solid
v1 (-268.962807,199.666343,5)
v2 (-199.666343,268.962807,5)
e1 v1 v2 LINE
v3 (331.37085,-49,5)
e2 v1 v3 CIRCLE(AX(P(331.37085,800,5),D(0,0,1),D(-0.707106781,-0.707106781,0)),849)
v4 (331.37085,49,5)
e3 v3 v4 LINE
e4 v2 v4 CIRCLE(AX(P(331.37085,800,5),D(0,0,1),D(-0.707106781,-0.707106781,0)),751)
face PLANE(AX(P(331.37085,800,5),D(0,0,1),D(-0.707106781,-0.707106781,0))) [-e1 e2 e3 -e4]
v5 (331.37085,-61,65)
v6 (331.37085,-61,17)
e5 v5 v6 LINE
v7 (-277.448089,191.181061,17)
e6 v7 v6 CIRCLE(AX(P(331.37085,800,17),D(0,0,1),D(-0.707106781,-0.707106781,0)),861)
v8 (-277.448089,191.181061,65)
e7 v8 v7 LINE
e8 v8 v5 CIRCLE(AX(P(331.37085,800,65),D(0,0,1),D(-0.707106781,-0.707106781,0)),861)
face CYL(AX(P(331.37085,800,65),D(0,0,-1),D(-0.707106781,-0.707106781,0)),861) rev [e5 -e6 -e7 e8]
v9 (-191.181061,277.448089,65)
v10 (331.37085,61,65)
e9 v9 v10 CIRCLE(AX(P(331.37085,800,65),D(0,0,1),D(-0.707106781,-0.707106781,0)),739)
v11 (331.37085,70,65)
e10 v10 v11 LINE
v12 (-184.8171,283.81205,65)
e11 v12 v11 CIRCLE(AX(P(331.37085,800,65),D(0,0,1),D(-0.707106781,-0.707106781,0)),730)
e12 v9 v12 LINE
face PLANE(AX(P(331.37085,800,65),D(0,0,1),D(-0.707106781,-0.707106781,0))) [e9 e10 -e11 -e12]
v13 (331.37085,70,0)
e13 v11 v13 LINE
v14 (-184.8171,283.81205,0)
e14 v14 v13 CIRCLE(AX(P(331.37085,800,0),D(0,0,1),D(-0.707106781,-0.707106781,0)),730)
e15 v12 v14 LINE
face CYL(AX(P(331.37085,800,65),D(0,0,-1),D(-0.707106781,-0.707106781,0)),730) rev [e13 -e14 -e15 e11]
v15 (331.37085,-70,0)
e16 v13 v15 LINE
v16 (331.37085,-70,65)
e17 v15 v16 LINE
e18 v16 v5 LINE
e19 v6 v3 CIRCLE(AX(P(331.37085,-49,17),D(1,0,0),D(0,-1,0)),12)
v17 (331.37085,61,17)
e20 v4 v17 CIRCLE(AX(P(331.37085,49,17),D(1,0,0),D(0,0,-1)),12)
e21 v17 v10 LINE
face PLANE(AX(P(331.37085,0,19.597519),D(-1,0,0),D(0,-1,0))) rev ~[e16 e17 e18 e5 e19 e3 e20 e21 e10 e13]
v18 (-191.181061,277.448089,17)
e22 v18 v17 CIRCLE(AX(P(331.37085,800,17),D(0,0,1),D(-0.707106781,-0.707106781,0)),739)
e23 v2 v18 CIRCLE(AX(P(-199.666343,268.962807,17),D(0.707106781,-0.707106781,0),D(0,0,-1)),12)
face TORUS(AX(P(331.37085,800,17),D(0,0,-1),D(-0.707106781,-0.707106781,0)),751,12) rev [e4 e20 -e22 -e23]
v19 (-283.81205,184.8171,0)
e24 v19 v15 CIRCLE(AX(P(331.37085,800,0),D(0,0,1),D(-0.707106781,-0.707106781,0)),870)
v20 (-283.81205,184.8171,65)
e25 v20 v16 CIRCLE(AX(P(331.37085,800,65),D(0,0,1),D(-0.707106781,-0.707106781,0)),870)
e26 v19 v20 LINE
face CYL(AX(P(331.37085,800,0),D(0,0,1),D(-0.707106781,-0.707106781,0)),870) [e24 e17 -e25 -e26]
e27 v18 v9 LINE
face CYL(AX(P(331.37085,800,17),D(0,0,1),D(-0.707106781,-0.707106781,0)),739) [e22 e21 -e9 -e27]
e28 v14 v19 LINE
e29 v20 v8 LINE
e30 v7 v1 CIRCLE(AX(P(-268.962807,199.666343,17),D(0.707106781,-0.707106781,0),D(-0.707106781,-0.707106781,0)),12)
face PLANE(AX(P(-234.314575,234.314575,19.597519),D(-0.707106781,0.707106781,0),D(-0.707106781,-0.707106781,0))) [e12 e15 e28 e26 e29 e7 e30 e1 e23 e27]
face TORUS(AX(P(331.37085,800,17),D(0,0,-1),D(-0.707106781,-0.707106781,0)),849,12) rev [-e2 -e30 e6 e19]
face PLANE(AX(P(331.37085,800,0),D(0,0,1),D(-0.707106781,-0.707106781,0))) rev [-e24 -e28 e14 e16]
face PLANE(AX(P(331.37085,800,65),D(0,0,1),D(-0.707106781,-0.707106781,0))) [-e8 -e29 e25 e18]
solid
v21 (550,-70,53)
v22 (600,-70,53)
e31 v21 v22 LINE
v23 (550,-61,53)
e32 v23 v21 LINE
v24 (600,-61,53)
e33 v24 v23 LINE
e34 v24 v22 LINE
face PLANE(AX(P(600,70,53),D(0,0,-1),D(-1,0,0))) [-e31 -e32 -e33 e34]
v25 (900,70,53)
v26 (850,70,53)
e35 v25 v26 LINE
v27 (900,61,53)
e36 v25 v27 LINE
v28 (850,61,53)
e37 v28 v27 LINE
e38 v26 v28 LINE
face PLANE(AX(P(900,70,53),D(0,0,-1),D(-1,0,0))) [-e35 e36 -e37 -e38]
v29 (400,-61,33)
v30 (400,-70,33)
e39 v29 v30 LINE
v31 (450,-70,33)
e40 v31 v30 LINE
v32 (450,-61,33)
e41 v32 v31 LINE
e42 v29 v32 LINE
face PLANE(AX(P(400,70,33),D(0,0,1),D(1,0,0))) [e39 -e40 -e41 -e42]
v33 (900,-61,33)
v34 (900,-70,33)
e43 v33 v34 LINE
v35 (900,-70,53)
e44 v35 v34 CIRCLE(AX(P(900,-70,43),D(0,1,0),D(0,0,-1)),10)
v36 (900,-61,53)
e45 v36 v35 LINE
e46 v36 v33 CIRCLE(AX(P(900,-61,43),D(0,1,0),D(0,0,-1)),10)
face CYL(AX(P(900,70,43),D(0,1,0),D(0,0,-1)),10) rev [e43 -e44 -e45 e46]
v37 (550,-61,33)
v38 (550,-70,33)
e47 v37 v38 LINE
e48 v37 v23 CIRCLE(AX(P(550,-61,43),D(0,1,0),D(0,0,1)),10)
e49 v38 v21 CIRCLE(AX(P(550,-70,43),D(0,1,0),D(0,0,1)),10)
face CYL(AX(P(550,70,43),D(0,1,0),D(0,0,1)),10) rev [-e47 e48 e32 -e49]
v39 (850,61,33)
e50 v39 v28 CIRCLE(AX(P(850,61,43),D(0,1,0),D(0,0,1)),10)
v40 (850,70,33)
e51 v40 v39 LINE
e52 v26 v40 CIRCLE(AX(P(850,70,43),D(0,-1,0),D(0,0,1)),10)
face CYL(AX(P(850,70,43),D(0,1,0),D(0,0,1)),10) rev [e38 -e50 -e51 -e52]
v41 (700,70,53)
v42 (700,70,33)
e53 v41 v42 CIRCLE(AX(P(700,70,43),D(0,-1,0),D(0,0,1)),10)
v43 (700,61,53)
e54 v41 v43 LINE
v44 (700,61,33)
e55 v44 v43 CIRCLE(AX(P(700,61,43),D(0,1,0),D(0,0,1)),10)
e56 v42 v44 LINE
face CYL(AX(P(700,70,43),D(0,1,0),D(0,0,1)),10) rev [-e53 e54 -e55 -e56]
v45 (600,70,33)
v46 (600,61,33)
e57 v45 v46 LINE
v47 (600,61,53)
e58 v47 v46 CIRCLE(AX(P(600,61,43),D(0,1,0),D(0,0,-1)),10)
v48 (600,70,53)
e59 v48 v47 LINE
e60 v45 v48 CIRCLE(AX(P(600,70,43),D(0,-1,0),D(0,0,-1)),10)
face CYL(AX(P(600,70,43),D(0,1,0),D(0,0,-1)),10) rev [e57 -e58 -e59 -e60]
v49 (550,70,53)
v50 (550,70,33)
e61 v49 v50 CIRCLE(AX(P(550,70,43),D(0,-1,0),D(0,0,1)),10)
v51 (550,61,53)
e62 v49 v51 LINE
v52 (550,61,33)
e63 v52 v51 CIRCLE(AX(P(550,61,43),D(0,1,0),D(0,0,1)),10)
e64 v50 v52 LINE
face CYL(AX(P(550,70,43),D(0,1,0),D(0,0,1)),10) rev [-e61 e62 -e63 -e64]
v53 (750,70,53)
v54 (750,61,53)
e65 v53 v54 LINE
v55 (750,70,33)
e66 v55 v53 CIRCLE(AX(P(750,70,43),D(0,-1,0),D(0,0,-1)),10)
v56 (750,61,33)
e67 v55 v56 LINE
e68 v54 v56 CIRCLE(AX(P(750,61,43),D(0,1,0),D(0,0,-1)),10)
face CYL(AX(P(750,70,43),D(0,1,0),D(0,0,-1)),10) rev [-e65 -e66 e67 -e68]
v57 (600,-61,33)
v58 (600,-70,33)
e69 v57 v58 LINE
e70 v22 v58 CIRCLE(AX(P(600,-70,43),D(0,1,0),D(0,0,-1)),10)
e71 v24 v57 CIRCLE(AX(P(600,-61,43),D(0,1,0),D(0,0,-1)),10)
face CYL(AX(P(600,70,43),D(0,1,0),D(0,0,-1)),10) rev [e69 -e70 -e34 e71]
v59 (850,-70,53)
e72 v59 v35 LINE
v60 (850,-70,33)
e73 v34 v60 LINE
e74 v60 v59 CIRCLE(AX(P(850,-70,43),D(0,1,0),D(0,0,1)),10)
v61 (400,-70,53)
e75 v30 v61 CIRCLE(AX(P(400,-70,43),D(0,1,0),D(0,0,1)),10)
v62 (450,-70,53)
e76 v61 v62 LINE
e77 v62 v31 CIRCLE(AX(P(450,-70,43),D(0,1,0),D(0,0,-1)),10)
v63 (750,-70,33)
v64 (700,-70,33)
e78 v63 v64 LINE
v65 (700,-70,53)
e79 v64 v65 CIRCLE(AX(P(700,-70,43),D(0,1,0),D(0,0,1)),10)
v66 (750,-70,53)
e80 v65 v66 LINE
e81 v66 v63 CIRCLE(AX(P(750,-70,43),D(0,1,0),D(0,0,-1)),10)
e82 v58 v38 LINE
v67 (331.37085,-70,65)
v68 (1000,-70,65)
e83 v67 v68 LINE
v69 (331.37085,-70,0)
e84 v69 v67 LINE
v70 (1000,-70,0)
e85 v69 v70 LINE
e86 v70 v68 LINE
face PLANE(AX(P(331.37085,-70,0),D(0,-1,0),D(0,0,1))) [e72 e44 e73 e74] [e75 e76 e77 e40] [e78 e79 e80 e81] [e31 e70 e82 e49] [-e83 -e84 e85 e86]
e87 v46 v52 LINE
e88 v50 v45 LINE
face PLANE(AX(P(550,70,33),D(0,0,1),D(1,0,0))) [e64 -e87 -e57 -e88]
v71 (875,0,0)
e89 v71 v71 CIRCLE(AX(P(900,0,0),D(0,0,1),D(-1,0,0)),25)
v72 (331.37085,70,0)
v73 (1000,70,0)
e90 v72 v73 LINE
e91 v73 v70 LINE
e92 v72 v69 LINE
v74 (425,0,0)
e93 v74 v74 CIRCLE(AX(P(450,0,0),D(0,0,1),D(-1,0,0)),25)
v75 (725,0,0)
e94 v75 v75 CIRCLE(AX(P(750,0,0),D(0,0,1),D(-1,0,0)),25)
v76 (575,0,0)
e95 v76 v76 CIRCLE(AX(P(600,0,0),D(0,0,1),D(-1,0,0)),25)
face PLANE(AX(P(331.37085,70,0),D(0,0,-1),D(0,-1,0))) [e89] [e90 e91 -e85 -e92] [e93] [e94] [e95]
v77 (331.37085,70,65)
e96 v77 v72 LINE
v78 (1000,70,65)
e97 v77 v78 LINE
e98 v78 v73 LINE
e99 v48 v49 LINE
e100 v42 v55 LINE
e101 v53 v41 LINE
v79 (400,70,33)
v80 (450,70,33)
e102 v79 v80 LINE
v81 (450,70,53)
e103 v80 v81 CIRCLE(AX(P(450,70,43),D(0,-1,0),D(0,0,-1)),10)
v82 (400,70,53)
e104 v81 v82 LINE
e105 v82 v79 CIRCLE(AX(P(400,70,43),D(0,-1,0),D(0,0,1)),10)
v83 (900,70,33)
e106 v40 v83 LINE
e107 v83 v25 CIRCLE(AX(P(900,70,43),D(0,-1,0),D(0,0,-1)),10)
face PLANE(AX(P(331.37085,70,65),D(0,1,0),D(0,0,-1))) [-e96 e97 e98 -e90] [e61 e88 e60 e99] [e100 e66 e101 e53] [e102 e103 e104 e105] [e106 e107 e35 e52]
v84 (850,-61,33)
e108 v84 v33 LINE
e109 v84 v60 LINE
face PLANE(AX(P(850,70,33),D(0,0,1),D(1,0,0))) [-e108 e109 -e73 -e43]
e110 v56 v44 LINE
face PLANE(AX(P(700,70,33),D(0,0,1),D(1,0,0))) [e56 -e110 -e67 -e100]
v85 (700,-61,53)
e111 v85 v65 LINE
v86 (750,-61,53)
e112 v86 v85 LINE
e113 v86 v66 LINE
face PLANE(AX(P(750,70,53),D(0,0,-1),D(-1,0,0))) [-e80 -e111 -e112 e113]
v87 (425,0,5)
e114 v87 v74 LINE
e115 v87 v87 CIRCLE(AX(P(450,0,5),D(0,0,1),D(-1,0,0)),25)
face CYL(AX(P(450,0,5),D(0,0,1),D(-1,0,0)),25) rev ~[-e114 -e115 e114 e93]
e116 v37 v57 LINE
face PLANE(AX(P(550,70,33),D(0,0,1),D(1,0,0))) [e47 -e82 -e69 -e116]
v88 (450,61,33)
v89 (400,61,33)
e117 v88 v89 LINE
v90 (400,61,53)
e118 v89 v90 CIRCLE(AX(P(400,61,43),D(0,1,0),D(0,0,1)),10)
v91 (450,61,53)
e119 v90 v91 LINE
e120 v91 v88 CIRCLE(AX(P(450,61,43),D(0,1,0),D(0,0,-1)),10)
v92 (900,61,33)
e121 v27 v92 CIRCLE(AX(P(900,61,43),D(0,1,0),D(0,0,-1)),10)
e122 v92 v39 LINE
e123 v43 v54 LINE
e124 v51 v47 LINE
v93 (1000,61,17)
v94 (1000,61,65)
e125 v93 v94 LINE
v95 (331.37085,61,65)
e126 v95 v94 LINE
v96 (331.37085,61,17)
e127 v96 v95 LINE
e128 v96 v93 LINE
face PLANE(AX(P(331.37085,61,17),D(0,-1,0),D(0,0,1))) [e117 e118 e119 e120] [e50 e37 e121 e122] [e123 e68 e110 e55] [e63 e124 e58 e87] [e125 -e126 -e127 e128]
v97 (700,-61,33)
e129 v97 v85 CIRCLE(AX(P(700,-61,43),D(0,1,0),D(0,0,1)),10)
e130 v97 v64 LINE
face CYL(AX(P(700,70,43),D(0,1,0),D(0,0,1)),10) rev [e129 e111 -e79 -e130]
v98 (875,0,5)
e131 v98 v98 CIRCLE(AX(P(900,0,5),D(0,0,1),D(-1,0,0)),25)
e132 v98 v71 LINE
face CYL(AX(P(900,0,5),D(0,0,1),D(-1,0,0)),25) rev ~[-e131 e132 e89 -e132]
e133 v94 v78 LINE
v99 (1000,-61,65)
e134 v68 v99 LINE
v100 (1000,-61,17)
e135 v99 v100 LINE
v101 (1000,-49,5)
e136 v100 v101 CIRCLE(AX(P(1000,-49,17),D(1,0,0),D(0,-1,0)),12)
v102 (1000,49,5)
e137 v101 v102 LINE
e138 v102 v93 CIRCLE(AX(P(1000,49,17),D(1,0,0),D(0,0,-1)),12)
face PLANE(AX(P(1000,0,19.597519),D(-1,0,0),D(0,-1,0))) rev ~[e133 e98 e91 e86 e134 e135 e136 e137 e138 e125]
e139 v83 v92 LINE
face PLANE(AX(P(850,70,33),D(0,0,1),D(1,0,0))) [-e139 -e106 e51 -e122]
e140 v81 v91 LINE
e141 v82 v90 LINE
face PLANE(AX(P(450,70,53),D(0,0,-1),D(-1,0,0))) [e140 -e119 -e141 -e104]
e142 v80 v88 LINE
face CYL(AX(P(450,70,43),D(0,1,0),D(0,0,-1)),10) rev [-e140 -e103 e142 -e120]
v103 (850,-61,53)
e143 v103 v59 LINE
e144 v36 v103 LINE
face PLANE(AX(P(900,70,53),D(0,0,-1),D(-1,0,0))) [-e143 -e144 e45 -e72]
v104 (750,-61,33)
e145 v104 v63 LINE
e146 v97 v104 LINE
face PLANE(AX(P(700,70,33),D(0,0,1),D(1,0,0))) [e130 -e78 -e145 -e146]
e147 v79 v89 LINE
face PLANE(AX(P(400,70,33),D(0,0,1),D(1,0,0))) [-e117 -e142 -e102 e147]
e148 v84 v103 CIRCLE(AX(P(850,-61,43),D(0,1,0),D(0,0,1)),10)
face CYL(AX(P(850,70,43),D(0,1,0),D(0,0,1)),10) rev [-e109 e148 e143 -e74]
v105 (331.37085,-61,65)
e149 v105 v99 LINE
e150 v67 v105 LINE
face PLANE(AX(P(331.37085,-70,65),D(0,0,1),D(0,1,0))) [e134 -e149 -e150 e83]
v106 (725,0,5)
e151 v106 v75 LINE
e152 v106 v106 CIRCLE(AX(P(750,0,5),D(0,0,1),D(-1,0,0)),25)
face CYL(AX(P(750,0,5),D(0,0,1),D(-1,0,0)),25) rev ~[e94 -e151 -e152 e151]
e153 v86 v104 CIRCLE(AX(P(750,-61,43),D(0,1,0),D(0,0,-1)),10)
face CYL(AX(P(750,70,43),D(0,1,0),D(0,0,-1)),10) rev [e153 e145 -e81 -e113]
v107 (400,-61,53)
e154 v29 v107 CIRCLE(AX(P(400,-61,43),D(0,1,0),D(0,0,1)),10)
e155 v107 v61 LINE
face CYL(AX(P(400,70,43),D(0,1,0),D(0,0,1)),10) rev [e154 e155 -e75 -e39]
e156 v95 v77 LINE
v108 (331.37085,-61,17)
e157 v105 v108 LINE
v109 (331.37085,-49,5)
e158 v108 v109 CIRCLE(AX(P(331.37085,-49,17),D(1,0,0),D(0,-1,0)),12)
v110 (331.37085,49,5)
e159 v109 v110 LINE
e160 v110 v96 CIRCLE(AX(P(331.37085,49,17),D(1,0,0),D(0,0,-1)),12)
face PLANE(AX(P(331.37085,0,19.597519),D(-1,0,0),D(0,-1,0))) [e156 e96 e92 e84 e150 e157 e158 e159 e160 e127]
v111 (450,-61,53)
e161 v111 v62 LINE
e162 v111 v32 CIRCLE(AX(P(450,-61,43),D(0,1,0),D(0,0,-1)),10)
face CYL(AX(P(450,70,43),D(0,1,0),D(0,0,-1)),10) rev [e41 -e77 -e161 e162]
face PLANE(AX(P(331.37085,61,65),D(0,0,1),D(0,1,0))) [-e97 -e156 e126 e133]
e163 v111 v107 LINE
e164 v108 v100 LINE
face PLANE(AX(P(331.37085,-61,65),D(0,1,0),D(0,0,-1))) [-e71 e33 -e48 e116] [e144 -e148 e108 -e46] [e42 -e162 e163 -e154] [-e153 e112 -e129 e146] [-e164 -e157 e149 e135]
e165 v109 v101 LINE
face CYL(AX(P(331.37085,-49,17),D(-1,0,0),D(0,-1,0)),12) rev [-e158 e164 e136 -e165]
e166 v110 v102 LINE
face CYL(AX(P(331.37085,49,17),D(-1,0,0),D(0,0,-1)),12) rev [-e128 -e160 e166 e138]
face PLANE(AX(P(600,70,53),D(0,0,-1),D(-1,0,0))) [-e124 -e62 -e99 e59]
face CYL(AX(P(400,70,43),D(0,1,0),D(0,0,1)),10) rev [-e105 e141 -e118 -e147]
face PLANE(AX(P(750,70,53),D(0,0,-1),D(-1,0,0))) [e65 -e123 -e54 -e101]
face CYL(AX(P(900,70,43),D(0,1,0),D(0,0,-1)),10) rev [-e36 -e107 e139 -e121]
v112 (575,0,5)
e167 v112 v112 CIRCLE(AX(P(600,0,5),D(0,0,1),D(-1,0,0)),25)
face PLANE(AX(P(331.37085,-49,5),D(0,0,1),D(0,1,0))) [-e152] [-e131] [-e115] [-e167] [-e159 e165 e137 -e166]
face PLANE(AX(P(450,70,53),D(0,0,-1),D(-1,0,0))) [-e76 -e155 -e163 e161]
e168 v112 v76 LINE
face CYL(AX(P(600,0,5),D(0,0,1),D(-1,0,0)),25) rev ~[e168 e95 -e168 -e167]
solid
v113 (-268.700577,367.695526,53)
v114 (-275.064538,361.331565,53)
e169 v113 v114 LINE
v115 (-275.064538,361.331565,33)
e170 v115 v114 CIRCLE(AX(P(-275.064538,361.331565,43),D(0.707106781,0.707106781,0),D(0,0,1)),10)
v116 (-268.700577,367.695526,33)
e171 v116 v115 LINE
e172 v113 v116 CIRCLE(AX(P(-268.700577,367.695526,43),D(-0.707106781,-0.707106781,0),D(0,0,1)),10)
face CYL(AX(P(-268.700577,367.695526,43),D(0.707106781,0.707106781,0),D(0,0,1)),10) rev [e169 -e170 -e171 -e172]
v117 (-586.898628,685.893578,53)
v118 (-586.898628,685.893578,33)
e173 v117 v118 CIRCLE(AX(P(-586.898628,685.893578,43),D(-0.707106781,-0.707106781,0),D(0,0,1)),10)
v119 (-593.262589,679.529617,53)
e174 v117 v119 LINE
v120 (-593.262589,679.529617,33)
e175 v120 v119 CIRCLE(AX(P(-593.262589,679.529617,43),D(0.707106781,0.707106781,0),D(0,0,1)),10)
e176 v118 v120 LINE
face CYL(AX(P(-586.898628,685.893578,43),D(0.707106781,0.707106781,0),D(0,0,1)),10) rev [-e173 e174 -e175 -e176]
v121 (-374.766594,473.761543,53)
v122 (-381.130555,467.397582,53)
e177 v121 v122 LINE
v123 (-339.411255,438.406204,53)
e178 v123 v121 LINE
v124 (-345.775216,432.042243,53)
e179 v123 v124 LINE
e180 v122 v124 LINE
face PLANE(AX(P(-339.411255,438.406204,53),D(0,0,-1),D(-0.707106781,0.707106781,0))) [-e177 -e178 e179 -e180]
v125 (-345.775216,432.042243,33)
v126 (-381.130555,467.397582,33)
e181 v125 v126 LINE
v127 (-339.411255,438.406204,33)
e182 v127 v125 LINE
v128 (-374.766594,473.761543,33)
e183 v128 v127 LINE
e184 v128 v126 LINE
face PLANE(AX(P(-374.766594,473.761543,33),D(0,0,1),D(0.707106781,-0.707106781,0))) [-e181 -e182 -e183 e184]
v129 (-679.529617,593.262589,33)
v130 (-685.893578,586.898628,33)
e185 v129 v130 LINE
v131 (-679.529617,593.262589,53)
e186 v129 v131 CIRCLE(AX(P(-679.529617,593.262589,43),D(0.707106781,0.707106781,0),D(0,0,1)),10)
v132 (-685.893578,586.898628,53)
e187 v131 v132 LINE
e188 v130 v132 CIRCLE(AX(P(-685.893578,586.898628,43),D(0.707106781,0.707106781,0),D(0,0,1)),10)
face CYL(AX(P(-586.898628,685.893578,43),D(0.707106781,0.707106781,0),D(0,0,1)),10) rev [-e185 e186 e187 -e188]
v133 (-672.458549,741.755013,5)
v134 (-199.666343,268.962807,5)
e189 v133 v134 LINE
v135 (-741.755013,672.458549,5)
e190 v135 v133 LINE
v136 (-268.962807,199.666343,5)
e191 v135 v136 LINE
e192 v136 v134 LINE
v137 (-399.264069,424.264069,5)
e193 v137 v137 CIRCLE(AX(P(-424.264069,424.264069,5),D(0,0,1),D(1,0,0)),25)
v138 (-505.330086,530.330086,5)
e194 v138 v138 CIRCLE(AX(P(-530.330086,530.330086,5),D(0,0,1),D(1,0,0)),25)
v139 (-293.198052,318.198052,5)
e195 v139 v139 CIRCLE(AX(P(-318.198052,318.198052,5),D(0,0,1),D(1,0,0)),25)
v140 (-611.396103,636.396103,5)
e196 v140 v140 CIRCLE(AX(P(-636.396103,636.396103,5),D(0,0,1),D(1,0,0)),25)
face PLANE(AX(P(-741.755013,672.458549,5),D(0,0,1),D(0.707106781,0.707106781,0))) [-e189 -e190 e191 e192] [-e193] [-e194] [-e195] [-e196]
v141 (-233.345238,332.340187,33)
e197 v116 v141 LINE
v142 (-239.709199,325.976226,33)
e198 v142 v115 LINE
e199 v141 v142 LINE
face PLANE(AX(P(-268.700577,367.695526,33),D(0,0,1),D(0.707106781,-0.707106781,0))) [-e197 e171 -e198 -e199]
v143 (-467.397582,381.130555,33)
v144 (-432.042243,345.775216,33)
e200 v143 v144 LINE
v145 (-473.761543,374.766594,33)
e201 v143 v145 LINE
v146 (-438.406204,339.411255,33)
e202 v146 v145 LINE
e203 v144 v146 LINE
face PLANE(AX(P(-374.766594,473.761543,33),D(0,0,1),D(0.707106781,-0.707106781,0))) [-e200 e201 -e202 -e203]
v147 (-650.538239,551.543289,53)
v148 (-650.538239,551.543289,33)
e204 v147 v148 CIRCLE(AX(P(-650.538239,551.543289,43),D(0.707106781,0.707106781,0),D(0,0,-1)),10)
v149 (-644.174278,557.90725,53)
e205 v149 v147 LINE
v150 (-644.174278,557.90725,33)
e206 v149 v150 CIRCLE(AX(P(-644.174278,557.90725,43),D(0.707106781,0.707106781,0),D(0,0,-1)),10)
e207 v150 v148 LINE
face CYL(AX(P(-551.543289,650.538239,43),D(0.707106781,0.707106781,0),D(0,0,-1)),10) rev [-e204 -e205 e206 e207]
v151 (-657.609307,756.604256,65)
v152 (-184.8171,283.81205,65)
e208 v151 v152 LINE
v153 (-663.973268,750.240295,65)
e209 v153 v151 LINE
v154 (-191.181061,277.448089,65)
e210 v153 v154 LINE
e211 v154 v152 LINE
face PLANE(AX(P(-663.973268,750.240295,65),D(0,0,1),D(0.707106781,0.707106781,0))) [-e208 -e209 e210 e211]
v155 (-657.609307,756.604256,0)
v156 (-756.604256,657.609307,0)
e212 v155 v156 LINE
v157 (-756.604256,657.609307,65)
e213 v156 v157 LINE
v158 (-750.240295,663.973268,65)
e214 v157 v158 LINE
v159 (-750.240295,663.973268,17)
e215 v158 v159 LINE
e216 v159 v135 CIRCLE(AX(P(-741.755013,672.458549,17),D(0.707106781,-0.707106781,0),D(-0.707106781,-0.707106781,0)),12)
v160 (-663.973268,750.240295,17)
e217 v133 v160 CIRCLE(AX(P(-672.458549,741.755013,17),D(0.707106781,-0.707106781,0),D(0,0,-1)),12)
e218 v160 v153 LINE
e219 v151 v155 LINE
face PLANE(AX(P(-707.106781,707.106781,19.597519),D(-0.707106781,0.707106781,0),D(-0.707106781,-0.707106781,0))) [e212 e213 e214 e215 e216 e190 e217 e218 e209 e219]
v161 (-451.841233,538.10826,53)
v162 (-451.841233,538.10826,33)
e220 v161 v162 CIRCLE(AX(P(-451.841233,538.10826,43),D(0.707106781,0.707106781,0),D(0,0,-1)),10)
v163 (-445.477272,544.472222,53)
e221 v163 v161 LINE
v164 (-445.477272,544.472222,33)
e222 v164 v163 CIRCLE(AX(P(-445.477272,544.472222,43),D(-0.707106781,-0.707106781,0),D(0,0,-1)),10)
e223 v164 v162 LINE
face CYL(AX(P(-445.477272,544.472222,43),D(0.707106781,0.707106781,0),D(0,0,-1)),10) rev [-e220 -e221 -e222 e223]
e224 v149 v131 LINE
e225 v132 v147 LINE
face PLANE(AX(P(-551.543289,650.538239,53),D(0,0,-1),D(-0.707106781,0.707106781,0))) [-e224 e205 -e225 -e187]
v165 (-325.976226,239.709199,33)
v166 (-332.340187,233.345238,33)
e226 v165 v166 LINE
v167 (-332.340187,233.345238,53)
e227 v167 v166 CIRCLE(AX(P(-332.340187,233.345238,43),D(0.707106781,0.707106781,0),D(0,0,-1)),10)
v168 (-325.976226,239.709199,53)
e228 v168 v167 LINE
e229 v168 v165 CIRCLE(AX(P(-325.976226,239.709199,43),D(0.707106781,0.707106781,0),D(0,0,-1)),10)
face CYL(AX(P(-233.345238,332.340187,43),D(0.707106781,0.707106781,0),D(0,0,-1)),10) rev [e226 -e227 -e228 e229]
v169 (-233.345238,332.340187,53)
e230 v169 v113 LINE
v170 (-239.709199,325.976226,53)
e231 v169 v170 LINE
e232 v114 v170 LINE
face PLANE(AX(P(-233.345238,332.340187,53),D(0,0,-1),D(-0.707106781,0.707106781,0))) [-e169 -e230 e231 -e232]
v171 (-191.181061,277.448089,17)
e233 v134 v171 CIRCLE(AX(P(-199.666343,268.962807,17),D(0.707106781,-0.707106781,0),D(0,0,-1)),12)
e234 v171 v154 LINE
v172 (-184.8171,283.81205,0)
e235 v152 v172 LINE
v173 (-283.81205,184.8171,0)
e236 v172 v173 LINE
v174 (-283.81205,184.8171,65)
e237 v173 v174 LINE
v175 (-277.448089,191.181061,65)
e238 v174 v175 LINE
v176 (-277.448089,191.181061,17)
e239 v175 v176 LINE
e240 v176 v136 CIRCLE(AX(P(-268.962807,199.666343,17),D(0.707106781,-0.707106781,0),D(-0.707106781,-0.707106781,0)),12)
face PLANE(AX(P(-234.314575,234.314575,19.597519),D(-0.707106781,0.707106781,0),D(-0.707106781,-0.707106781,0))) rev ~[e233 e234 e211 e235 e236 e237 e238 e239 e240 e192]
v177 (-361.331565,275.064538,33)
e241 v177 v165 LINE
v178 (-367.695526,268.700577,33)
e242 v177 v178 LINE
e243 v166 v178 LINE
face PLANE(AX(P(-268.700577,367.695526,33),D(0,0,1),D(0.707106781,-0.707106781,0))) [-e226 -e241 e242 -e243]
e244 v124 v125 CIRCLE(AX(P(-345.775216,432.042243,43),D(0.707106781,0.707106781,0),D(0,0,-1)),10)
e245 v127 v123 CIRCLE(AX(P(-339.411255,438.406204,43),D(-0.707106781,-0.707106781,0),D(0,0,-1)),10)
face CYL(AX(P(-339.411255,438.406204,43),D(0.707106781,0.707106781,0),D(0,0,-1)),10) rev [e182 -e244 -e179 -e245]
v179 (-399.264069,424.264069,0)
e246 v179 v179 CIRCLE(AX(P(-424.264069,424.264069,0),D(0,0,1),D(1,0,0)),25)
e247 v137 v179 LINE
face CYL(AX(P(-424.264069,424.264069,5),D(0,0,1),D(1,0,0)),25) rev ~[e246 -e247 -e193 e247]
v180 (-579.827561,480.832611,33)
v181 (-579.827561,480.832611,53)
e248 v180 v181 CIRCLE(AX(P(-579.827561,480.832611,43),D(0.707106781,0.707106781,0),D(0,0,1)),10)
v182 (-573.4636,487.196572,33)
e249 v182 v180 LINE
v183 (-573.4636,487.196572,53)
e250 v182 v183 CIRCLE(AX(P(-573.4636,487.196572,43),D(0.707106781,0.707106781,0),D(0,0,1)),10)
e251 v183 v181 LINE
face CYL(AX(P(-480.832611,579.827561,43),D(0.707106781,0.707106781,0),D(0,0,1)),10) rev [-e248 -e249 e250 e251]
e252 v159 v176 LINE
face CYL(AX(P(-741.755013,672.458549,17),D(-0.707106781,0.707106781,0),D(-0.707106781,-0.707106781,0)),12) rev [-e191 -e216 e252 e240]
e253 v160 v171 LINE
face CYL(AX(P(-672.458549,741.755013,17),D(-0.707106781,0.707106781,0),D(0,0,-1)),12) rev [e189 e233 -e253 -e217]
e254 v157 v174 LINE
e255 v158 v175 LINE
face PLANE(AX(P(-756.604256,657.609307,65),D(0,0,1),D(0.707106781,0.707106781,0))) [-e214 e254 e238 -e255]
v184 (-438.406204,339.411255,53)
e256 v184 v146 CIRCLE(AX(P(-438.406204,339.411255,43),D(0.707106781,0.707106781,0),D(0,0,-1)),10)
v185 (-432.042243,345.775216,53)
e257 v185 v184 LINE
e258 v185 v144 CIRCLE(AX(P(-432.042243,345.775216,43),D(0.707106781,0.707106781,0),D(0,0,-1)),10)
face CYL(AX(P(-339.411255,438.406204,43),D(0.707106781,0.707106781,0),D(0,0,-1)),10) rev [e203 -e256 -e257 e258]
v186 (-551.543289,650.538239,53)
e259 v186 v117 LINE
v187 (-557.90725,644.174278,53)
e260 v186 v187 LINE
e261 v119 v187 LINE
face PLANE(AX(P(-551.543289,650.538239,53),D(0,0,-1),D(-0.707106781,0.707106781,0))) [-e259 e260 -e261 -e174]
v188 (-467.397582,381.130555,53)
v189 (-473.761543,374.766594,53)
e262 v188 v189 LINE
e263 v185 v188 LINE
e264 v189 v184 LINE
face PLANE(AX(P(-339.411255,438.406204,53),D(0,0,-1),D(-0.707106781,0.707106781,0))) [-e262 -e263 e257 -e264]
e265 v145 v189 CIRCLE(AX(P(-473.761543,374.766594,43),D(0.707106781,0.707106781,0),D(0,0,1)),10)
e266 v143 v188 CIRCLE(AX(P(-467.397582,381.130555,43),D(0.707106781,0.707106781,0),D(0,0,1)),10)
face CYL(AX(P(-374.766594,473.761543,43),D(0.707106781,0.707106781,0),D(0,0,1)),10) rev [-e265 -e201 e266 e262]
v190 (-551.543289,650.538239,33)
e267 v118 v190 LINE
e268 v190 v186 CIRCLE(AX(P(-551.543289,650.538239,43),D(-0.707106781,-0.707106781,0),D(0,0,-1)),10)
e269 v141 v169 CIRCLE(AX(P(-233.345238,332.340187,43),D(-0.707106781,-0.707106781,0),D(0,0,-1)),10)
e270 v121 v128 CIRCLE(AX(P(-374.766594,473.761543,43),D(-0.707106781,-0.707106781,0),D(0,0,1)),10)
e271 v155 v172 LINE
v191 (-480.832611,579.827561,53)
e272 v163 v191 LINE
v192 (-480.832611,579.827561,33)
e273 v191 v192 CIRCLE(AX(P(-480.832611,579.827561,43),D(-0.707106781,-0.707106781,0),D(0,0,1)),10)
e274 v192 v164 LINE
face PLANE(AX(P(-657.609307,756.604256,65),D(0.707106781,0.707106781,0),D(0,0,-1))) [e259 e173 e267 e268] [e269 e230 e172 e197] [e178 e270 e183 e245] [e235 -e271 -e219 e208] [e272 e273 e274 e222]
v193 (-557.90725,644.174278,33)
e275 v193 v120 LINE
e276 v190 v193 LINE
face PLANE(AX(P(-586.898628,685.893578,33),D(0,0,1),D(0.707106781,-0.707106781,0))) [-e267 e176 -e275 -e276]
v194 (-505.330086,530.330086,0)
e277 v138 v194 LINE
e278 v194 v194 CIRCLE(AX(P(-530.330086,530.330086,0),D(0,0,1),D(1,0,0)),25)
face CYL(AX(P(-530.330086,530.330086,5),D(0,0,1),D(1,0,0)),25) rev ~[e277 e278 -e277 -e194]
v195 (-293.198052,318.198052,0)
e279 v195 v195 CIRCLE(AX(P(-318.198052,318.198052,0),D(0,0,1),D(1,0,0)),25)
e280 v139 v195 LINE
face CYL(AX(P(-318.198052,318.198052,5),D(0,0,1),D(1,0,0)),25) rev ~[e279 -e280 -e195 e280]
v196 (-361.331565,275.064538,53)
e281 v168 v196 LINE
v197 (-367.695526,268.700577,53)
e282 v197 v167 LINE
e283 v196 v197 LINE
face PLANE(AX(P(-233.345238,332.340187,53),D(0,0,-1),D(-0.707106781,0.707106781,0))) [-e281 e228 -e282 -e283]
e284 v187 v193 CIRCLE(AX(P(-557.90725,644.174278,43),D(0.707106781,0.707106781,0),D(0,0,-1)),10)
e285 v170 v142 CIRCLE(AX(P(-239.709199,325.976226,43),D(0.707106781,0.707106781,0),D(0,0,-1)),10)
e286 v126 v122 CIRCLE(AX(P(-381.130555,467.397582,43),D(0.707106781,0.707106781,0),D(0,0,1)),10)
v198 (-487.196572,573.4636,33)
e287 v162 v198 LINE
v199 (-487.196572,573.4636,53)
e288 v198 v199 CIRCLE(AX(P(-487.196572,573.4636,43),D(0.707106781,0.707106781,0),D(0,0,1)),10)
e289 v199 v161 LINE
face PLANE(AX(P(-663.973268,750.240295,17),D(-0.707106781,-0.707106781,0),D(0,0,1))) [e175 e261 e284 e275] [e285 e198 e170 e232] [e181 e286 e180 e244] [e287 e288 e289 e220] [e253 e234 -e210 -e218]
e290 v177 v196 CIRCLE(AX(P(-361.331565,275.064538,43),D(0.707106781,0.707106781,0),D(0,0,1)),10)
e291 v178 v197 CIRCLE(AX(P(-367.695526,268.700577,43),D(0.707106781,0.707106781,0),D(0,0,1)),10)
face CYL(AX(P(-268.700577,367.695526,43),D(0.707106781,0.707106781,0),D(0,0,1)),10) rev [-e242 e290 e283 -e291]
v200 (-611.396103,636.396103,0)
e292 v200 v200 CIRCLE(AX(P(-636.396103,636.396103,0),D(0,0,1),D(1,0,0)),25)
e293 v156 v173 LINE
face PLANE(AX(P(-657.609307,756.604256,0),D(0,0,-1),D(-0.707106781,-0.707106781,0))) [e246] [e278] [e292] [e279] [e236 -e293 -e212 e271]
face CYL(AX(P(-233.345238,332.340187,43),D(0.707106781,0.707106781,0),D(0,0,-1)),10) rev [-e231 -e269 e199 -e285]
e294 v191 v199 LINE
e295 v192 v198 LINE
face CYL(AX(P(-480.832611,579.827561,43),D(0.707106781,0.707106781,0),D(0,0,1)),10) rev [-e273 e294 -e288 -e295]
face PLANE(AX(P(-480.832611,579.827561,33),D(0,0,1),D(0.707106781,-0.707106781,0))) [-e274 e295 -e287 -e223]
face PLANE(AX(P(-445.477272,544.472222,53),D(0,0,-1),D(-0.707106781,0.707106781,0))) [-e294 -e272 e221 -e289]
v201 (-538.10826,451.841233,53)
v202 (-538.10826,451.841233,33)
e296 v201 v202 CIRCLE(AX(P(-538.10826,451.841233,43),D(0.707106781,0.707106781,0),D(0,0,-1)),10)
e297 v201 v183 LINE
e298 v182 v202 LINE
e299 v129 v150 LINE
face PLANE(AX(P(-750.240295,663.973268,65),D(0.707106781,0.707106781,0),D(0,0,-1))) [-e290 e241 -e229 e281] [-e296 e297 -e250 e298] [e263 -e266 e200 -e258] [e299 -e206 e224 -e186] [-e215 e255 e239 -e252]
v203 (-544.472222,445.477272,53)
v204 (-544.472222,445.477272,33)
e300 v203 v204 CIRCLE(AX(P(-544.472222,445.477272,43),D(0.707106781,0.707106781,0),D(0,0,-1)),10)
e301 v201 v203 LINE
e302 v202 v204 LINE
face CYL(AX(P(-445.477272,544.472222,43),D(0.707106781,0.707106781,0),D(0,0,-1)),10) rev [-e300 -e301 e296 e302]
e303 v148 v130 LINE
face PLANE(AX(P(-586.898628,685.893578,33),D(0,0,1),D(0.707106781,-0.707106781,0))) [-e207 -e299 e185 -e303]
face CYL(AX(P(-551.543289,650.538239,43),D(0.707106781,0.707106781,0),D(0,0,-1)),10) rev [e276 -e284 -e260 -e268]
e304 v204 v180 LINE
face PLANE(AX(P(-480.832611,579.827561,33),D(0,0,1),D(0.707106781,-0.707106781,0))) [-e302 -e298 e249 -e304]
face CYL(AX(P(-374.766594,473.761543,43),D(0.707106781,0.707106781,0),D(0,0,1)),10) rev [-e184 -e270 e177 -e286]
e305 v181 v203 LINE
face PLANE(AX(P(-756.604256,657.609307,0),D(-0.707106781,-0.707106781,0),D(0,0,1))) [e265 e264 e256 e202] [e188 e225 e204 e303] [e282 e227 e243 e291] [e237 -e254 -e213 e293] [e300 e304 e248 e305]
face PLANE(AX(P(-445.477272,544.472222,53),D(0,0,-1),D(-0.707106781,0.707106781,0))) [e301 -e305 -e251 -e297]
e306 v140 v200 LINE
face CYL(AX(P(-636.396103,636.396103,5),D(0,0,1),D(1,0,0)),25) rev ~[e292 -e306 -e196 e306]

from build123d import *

# Parameters (mm, degrees)
UPE_UPE_140_1_DEPTH     = 668.629150102
UPE_UPE_140_1_2_ANGLE   = 45
UPE_UPE_140_1_3_DEPTH   = 668.629150102
ENL_V_MAT_EXTRU_1_DEPTH = 655.497474683
ENL_V_MAT_EXTRU_2_DEPTH = 141
ESQUISSE5_R             = 25
ENL_V_MAT_EXTRU_3_DEPTH = 6


with BuildPart() as part:
    # Skizze1 → Upe UPE 140(1) (new body)
    with BuildSketch(Plane(origin=(-707.106781187, 707.106781187, 0), x_dir=(0.707106781, 0.707106781, 0), z_dir=(0.707106781, -0.707106781, 0))):
        with BuildLine():
            Line((-70, 65), (-61, 65))
            Line((-61, 65), (-61, 17))
            ThreePointArc((-61, 17), (-57.485281374, 8.514718626), (-49, 5))
            Line((-49, 5), (49, 5))
            ThreePointArc((49, 5), (57.485281374, 8.514718626), (61, 17))
            Line((61, 17), (61, 65))
            Line((61, 65), (70, 65))
            Line((70, 65), (70, 0))
            Line((70, 0), (-70, 0))
            Line((-70, 0), (-70, 65))
        make_face()
    extrude(amount=UPE_UPE_140_1_DEPTH)

    # Esquisse3 → Enlèv. mat.-Extru.1 (cut, through all)
    with BuildSketch(Plane(origin=(49.497474683, 49.497474683, 0), x_dir=(0, 0, -1), z_dir=(0.707106781, 0.707106781, 0))):
        with BuildLine():
            Line((-33, 900), (-33, 850))
            ThreePointArc((-33, 850), (-43, 840), (-53, 850))
            Line((-53, 850), (-53, 900))
            ThreePointArc((-53, 900), (-43, 910), (-33, 900))
        make_face()
        with BuildLine():
            Line((-33, 750), (-33, 700))
            ThreePointArc((-33, 700), (-43, 690), (-53, 700))
            Line((-53, 700), (-53, 750))
            ThreePointArc((-53, 750), (-43, 760), (-33, 750))
        make_face()
        with BuildLine():
            Line((-33, 600), (-33, 550))
            ThreePointArc((-33, 550), (-43, 540), (-53, 550))
            Line((-53, 550), (-53, 600))
            ThreePointArc((-53, 600), (-43, 610), (-33, 600))
        make_face()
        with BuildLine():
            Line((-33, 450), (-33, 400))
            ThreePointArc((-33, 400), (-43, 390), (-53, 400))
            Line((-53, 400), (-53, 450))
            ThreePointArc((-53, 450), (-43, 460), (-33, 450))
        make_face()
    extrude(amount=-ENL_V_MAT_EXTRU_1_DEPTH, mode=Mode.SUBTRACT)


with BuildPart() as body_2:
    # Skizze1 on segment 2 (carried to the start of arc 2) → Upe UPE 140_1 2 (revolve)
    with BuildSketch(Plane(origin=(-234.314575051, 234.314575051, 0), x_dir=(0.707106781, 0.707106781, 0), z_dir=(0.707106781, -0.707106781, 0))):
        with BuildLine():
            Line((-70, 65), (-61, 65))
            Line((-61, 65), (-61, 17))
            ThreePointArc((-61, 17), (-57.485281374, 8.514718626), (-49, 5))
            Line((-49, 5), (49, 5))
            ThreePointArc((49, 5), (57.485281374, 8.514718626), (61, 17))
            Line((61, 17), (61, 65))
            Line((61, 65), (70, 65))
            Line((70, 65), (70, 0))
            Line((70, 0), (-70, 0))
            Line((-70, 0), (-70, 65))
        make_face()
    revolve(axis=Axis((331.370849898, 800, 0), (0, 0, 1)), revolution_arc=UPE_UPE_140_1_2_ANGLE)


with BuildPart() as body_3:
    # Skizze1 on segment 3 (carried to segment 3) → Upe UPE 140_1 3 (new body)
    with BuildSketch(Plane.YZ.offset(331.370849898)):
        with BuildLine():
            Line((-70, 65), (-61, 65))
            Line((-61, 65), (-61, 17))
            ThreePointArc((-61, 17), (-57.485281374, 8.514718626), (-49, 5))
            Line((-49, 5), (49, 5))
            ThreePointArc((49, 5), (57.485281374, 8.514718626), (61, 17))
            Line((61, 17), (61, 65))
            Line((61, 65), (70, 65))
            Line((70, 65), (70, 0))
            Line((70, 0), (-70, 0))
            Line((-70, 0), (-70, 65))
        make_face()
    extrude(amount=UPE_UPE_140_1_3_DEPTH)

    # Esquisse4 → Enlèv. mat.-Extru.2 (cut, through all)
    with BuildSketch(Plane(origin=(0, 70, 0), x_dir=(1, 0, 0), z_dir=(0, 1, 0))):
        with BuildLine():
            Line((900, -53), (850, -53))
            ThreePointArc((850, -53), (840, -43), (850, -33))
            Line((850, -33), (900, -33))
            ThreePointArc((900, -33), (910, -43), (900, -53))
        make_face()
        with BuildLine():
            Line((750, -53), (700, -53))
            ThreePointArc((700, -53), (690, -43), (700, -33))
            Line((700, -33), (750, -33))
            ThreePointArc((750, -33), (760, -43), (750, -53))
        make_face()
        with BuildLine():
            Line((600, -53), (550, -53))
            ThreePointArc((550, -53), (540, -43), (550, -33))
            Line((550, -33), (600, -33))
            ThreePointArc((600, -33), (610, -43), (600, -53))
        make_face()
        with BuildLine():
            Line((450, -53), (400, -53))
            ThreePointArc((400, -53), (390, -43), (400, -33))
            Line((400, -33), (450, -33))
            ThreePointArc((450, -33), (460, -43), (450, -53))
        make_face()
    extrude(amount=-ENL_V_MAT_EXTRU_2_DEPTH, mode=Mode.SUBTRACT)


with BuildPart() as enl_v_mat_extru_3_tool:
    # Esquisse5 → Enlèv. mat.-Extru.3 (new body, through all)
    with BuildSketch(Plane.XY.offset(5)):
        with Locations((-636.396103068, 636.396103068)):
            Circle(ESQUISSE5_R)
        with Locations((-530.33008589, 530.33008589)):
            Circle(ESQUISSE5_R)
        with Locations((-424.264068712, 424.264068712)):
            Circle(ESQUISSE5_R)
        with Locations((-318.198051534, 318.198051534)):
            Circle(ESQUISSE5_R)
        with Locations(Location((900, 0, 0), (0, 0, 180))):  # turned: the seam where the file's is
            Circle(ESQUISSE5_R)
        with Locations(Location((750, 0, 0), (0, 0, 180))):  # turned: the seam where the file's is
            Circle(ESQUISSE5_R)
        with Locations(Location((600, 0, 0), (0, 0, 180))):  # turned: the seam where the file's is
            Circle(ESQUISSE5_R)
        with Locations(Location((450, 0, 0), (0, 0, 180))):  # turned: the seam where the file's is
            Circle(ESQUISSE5_R)
    extrude(amount=-ENL_V_MAT_EXTRU_3_DEPTH)


with BuildPart() as part_1:
    add(part.part)

    # Enlèv. mat.-Extru.3: cut by enl_v_mat_extru_3_tool
    add(enl_v_mat_extru_3_tool.part, mode=Mode.SUBTRACT)


with BuildPart() as body_3_1:
    add(body_3.part)

    # Enlèv. mat.-Extru.3: cut by enl_v_mat_extru_3_tool
    add(enl_v_mat_extru_3_tool.part, mode=Mode.SUBTRACT)


solid = Compound([body_2.part, part_1.part, body_3_1.part])
